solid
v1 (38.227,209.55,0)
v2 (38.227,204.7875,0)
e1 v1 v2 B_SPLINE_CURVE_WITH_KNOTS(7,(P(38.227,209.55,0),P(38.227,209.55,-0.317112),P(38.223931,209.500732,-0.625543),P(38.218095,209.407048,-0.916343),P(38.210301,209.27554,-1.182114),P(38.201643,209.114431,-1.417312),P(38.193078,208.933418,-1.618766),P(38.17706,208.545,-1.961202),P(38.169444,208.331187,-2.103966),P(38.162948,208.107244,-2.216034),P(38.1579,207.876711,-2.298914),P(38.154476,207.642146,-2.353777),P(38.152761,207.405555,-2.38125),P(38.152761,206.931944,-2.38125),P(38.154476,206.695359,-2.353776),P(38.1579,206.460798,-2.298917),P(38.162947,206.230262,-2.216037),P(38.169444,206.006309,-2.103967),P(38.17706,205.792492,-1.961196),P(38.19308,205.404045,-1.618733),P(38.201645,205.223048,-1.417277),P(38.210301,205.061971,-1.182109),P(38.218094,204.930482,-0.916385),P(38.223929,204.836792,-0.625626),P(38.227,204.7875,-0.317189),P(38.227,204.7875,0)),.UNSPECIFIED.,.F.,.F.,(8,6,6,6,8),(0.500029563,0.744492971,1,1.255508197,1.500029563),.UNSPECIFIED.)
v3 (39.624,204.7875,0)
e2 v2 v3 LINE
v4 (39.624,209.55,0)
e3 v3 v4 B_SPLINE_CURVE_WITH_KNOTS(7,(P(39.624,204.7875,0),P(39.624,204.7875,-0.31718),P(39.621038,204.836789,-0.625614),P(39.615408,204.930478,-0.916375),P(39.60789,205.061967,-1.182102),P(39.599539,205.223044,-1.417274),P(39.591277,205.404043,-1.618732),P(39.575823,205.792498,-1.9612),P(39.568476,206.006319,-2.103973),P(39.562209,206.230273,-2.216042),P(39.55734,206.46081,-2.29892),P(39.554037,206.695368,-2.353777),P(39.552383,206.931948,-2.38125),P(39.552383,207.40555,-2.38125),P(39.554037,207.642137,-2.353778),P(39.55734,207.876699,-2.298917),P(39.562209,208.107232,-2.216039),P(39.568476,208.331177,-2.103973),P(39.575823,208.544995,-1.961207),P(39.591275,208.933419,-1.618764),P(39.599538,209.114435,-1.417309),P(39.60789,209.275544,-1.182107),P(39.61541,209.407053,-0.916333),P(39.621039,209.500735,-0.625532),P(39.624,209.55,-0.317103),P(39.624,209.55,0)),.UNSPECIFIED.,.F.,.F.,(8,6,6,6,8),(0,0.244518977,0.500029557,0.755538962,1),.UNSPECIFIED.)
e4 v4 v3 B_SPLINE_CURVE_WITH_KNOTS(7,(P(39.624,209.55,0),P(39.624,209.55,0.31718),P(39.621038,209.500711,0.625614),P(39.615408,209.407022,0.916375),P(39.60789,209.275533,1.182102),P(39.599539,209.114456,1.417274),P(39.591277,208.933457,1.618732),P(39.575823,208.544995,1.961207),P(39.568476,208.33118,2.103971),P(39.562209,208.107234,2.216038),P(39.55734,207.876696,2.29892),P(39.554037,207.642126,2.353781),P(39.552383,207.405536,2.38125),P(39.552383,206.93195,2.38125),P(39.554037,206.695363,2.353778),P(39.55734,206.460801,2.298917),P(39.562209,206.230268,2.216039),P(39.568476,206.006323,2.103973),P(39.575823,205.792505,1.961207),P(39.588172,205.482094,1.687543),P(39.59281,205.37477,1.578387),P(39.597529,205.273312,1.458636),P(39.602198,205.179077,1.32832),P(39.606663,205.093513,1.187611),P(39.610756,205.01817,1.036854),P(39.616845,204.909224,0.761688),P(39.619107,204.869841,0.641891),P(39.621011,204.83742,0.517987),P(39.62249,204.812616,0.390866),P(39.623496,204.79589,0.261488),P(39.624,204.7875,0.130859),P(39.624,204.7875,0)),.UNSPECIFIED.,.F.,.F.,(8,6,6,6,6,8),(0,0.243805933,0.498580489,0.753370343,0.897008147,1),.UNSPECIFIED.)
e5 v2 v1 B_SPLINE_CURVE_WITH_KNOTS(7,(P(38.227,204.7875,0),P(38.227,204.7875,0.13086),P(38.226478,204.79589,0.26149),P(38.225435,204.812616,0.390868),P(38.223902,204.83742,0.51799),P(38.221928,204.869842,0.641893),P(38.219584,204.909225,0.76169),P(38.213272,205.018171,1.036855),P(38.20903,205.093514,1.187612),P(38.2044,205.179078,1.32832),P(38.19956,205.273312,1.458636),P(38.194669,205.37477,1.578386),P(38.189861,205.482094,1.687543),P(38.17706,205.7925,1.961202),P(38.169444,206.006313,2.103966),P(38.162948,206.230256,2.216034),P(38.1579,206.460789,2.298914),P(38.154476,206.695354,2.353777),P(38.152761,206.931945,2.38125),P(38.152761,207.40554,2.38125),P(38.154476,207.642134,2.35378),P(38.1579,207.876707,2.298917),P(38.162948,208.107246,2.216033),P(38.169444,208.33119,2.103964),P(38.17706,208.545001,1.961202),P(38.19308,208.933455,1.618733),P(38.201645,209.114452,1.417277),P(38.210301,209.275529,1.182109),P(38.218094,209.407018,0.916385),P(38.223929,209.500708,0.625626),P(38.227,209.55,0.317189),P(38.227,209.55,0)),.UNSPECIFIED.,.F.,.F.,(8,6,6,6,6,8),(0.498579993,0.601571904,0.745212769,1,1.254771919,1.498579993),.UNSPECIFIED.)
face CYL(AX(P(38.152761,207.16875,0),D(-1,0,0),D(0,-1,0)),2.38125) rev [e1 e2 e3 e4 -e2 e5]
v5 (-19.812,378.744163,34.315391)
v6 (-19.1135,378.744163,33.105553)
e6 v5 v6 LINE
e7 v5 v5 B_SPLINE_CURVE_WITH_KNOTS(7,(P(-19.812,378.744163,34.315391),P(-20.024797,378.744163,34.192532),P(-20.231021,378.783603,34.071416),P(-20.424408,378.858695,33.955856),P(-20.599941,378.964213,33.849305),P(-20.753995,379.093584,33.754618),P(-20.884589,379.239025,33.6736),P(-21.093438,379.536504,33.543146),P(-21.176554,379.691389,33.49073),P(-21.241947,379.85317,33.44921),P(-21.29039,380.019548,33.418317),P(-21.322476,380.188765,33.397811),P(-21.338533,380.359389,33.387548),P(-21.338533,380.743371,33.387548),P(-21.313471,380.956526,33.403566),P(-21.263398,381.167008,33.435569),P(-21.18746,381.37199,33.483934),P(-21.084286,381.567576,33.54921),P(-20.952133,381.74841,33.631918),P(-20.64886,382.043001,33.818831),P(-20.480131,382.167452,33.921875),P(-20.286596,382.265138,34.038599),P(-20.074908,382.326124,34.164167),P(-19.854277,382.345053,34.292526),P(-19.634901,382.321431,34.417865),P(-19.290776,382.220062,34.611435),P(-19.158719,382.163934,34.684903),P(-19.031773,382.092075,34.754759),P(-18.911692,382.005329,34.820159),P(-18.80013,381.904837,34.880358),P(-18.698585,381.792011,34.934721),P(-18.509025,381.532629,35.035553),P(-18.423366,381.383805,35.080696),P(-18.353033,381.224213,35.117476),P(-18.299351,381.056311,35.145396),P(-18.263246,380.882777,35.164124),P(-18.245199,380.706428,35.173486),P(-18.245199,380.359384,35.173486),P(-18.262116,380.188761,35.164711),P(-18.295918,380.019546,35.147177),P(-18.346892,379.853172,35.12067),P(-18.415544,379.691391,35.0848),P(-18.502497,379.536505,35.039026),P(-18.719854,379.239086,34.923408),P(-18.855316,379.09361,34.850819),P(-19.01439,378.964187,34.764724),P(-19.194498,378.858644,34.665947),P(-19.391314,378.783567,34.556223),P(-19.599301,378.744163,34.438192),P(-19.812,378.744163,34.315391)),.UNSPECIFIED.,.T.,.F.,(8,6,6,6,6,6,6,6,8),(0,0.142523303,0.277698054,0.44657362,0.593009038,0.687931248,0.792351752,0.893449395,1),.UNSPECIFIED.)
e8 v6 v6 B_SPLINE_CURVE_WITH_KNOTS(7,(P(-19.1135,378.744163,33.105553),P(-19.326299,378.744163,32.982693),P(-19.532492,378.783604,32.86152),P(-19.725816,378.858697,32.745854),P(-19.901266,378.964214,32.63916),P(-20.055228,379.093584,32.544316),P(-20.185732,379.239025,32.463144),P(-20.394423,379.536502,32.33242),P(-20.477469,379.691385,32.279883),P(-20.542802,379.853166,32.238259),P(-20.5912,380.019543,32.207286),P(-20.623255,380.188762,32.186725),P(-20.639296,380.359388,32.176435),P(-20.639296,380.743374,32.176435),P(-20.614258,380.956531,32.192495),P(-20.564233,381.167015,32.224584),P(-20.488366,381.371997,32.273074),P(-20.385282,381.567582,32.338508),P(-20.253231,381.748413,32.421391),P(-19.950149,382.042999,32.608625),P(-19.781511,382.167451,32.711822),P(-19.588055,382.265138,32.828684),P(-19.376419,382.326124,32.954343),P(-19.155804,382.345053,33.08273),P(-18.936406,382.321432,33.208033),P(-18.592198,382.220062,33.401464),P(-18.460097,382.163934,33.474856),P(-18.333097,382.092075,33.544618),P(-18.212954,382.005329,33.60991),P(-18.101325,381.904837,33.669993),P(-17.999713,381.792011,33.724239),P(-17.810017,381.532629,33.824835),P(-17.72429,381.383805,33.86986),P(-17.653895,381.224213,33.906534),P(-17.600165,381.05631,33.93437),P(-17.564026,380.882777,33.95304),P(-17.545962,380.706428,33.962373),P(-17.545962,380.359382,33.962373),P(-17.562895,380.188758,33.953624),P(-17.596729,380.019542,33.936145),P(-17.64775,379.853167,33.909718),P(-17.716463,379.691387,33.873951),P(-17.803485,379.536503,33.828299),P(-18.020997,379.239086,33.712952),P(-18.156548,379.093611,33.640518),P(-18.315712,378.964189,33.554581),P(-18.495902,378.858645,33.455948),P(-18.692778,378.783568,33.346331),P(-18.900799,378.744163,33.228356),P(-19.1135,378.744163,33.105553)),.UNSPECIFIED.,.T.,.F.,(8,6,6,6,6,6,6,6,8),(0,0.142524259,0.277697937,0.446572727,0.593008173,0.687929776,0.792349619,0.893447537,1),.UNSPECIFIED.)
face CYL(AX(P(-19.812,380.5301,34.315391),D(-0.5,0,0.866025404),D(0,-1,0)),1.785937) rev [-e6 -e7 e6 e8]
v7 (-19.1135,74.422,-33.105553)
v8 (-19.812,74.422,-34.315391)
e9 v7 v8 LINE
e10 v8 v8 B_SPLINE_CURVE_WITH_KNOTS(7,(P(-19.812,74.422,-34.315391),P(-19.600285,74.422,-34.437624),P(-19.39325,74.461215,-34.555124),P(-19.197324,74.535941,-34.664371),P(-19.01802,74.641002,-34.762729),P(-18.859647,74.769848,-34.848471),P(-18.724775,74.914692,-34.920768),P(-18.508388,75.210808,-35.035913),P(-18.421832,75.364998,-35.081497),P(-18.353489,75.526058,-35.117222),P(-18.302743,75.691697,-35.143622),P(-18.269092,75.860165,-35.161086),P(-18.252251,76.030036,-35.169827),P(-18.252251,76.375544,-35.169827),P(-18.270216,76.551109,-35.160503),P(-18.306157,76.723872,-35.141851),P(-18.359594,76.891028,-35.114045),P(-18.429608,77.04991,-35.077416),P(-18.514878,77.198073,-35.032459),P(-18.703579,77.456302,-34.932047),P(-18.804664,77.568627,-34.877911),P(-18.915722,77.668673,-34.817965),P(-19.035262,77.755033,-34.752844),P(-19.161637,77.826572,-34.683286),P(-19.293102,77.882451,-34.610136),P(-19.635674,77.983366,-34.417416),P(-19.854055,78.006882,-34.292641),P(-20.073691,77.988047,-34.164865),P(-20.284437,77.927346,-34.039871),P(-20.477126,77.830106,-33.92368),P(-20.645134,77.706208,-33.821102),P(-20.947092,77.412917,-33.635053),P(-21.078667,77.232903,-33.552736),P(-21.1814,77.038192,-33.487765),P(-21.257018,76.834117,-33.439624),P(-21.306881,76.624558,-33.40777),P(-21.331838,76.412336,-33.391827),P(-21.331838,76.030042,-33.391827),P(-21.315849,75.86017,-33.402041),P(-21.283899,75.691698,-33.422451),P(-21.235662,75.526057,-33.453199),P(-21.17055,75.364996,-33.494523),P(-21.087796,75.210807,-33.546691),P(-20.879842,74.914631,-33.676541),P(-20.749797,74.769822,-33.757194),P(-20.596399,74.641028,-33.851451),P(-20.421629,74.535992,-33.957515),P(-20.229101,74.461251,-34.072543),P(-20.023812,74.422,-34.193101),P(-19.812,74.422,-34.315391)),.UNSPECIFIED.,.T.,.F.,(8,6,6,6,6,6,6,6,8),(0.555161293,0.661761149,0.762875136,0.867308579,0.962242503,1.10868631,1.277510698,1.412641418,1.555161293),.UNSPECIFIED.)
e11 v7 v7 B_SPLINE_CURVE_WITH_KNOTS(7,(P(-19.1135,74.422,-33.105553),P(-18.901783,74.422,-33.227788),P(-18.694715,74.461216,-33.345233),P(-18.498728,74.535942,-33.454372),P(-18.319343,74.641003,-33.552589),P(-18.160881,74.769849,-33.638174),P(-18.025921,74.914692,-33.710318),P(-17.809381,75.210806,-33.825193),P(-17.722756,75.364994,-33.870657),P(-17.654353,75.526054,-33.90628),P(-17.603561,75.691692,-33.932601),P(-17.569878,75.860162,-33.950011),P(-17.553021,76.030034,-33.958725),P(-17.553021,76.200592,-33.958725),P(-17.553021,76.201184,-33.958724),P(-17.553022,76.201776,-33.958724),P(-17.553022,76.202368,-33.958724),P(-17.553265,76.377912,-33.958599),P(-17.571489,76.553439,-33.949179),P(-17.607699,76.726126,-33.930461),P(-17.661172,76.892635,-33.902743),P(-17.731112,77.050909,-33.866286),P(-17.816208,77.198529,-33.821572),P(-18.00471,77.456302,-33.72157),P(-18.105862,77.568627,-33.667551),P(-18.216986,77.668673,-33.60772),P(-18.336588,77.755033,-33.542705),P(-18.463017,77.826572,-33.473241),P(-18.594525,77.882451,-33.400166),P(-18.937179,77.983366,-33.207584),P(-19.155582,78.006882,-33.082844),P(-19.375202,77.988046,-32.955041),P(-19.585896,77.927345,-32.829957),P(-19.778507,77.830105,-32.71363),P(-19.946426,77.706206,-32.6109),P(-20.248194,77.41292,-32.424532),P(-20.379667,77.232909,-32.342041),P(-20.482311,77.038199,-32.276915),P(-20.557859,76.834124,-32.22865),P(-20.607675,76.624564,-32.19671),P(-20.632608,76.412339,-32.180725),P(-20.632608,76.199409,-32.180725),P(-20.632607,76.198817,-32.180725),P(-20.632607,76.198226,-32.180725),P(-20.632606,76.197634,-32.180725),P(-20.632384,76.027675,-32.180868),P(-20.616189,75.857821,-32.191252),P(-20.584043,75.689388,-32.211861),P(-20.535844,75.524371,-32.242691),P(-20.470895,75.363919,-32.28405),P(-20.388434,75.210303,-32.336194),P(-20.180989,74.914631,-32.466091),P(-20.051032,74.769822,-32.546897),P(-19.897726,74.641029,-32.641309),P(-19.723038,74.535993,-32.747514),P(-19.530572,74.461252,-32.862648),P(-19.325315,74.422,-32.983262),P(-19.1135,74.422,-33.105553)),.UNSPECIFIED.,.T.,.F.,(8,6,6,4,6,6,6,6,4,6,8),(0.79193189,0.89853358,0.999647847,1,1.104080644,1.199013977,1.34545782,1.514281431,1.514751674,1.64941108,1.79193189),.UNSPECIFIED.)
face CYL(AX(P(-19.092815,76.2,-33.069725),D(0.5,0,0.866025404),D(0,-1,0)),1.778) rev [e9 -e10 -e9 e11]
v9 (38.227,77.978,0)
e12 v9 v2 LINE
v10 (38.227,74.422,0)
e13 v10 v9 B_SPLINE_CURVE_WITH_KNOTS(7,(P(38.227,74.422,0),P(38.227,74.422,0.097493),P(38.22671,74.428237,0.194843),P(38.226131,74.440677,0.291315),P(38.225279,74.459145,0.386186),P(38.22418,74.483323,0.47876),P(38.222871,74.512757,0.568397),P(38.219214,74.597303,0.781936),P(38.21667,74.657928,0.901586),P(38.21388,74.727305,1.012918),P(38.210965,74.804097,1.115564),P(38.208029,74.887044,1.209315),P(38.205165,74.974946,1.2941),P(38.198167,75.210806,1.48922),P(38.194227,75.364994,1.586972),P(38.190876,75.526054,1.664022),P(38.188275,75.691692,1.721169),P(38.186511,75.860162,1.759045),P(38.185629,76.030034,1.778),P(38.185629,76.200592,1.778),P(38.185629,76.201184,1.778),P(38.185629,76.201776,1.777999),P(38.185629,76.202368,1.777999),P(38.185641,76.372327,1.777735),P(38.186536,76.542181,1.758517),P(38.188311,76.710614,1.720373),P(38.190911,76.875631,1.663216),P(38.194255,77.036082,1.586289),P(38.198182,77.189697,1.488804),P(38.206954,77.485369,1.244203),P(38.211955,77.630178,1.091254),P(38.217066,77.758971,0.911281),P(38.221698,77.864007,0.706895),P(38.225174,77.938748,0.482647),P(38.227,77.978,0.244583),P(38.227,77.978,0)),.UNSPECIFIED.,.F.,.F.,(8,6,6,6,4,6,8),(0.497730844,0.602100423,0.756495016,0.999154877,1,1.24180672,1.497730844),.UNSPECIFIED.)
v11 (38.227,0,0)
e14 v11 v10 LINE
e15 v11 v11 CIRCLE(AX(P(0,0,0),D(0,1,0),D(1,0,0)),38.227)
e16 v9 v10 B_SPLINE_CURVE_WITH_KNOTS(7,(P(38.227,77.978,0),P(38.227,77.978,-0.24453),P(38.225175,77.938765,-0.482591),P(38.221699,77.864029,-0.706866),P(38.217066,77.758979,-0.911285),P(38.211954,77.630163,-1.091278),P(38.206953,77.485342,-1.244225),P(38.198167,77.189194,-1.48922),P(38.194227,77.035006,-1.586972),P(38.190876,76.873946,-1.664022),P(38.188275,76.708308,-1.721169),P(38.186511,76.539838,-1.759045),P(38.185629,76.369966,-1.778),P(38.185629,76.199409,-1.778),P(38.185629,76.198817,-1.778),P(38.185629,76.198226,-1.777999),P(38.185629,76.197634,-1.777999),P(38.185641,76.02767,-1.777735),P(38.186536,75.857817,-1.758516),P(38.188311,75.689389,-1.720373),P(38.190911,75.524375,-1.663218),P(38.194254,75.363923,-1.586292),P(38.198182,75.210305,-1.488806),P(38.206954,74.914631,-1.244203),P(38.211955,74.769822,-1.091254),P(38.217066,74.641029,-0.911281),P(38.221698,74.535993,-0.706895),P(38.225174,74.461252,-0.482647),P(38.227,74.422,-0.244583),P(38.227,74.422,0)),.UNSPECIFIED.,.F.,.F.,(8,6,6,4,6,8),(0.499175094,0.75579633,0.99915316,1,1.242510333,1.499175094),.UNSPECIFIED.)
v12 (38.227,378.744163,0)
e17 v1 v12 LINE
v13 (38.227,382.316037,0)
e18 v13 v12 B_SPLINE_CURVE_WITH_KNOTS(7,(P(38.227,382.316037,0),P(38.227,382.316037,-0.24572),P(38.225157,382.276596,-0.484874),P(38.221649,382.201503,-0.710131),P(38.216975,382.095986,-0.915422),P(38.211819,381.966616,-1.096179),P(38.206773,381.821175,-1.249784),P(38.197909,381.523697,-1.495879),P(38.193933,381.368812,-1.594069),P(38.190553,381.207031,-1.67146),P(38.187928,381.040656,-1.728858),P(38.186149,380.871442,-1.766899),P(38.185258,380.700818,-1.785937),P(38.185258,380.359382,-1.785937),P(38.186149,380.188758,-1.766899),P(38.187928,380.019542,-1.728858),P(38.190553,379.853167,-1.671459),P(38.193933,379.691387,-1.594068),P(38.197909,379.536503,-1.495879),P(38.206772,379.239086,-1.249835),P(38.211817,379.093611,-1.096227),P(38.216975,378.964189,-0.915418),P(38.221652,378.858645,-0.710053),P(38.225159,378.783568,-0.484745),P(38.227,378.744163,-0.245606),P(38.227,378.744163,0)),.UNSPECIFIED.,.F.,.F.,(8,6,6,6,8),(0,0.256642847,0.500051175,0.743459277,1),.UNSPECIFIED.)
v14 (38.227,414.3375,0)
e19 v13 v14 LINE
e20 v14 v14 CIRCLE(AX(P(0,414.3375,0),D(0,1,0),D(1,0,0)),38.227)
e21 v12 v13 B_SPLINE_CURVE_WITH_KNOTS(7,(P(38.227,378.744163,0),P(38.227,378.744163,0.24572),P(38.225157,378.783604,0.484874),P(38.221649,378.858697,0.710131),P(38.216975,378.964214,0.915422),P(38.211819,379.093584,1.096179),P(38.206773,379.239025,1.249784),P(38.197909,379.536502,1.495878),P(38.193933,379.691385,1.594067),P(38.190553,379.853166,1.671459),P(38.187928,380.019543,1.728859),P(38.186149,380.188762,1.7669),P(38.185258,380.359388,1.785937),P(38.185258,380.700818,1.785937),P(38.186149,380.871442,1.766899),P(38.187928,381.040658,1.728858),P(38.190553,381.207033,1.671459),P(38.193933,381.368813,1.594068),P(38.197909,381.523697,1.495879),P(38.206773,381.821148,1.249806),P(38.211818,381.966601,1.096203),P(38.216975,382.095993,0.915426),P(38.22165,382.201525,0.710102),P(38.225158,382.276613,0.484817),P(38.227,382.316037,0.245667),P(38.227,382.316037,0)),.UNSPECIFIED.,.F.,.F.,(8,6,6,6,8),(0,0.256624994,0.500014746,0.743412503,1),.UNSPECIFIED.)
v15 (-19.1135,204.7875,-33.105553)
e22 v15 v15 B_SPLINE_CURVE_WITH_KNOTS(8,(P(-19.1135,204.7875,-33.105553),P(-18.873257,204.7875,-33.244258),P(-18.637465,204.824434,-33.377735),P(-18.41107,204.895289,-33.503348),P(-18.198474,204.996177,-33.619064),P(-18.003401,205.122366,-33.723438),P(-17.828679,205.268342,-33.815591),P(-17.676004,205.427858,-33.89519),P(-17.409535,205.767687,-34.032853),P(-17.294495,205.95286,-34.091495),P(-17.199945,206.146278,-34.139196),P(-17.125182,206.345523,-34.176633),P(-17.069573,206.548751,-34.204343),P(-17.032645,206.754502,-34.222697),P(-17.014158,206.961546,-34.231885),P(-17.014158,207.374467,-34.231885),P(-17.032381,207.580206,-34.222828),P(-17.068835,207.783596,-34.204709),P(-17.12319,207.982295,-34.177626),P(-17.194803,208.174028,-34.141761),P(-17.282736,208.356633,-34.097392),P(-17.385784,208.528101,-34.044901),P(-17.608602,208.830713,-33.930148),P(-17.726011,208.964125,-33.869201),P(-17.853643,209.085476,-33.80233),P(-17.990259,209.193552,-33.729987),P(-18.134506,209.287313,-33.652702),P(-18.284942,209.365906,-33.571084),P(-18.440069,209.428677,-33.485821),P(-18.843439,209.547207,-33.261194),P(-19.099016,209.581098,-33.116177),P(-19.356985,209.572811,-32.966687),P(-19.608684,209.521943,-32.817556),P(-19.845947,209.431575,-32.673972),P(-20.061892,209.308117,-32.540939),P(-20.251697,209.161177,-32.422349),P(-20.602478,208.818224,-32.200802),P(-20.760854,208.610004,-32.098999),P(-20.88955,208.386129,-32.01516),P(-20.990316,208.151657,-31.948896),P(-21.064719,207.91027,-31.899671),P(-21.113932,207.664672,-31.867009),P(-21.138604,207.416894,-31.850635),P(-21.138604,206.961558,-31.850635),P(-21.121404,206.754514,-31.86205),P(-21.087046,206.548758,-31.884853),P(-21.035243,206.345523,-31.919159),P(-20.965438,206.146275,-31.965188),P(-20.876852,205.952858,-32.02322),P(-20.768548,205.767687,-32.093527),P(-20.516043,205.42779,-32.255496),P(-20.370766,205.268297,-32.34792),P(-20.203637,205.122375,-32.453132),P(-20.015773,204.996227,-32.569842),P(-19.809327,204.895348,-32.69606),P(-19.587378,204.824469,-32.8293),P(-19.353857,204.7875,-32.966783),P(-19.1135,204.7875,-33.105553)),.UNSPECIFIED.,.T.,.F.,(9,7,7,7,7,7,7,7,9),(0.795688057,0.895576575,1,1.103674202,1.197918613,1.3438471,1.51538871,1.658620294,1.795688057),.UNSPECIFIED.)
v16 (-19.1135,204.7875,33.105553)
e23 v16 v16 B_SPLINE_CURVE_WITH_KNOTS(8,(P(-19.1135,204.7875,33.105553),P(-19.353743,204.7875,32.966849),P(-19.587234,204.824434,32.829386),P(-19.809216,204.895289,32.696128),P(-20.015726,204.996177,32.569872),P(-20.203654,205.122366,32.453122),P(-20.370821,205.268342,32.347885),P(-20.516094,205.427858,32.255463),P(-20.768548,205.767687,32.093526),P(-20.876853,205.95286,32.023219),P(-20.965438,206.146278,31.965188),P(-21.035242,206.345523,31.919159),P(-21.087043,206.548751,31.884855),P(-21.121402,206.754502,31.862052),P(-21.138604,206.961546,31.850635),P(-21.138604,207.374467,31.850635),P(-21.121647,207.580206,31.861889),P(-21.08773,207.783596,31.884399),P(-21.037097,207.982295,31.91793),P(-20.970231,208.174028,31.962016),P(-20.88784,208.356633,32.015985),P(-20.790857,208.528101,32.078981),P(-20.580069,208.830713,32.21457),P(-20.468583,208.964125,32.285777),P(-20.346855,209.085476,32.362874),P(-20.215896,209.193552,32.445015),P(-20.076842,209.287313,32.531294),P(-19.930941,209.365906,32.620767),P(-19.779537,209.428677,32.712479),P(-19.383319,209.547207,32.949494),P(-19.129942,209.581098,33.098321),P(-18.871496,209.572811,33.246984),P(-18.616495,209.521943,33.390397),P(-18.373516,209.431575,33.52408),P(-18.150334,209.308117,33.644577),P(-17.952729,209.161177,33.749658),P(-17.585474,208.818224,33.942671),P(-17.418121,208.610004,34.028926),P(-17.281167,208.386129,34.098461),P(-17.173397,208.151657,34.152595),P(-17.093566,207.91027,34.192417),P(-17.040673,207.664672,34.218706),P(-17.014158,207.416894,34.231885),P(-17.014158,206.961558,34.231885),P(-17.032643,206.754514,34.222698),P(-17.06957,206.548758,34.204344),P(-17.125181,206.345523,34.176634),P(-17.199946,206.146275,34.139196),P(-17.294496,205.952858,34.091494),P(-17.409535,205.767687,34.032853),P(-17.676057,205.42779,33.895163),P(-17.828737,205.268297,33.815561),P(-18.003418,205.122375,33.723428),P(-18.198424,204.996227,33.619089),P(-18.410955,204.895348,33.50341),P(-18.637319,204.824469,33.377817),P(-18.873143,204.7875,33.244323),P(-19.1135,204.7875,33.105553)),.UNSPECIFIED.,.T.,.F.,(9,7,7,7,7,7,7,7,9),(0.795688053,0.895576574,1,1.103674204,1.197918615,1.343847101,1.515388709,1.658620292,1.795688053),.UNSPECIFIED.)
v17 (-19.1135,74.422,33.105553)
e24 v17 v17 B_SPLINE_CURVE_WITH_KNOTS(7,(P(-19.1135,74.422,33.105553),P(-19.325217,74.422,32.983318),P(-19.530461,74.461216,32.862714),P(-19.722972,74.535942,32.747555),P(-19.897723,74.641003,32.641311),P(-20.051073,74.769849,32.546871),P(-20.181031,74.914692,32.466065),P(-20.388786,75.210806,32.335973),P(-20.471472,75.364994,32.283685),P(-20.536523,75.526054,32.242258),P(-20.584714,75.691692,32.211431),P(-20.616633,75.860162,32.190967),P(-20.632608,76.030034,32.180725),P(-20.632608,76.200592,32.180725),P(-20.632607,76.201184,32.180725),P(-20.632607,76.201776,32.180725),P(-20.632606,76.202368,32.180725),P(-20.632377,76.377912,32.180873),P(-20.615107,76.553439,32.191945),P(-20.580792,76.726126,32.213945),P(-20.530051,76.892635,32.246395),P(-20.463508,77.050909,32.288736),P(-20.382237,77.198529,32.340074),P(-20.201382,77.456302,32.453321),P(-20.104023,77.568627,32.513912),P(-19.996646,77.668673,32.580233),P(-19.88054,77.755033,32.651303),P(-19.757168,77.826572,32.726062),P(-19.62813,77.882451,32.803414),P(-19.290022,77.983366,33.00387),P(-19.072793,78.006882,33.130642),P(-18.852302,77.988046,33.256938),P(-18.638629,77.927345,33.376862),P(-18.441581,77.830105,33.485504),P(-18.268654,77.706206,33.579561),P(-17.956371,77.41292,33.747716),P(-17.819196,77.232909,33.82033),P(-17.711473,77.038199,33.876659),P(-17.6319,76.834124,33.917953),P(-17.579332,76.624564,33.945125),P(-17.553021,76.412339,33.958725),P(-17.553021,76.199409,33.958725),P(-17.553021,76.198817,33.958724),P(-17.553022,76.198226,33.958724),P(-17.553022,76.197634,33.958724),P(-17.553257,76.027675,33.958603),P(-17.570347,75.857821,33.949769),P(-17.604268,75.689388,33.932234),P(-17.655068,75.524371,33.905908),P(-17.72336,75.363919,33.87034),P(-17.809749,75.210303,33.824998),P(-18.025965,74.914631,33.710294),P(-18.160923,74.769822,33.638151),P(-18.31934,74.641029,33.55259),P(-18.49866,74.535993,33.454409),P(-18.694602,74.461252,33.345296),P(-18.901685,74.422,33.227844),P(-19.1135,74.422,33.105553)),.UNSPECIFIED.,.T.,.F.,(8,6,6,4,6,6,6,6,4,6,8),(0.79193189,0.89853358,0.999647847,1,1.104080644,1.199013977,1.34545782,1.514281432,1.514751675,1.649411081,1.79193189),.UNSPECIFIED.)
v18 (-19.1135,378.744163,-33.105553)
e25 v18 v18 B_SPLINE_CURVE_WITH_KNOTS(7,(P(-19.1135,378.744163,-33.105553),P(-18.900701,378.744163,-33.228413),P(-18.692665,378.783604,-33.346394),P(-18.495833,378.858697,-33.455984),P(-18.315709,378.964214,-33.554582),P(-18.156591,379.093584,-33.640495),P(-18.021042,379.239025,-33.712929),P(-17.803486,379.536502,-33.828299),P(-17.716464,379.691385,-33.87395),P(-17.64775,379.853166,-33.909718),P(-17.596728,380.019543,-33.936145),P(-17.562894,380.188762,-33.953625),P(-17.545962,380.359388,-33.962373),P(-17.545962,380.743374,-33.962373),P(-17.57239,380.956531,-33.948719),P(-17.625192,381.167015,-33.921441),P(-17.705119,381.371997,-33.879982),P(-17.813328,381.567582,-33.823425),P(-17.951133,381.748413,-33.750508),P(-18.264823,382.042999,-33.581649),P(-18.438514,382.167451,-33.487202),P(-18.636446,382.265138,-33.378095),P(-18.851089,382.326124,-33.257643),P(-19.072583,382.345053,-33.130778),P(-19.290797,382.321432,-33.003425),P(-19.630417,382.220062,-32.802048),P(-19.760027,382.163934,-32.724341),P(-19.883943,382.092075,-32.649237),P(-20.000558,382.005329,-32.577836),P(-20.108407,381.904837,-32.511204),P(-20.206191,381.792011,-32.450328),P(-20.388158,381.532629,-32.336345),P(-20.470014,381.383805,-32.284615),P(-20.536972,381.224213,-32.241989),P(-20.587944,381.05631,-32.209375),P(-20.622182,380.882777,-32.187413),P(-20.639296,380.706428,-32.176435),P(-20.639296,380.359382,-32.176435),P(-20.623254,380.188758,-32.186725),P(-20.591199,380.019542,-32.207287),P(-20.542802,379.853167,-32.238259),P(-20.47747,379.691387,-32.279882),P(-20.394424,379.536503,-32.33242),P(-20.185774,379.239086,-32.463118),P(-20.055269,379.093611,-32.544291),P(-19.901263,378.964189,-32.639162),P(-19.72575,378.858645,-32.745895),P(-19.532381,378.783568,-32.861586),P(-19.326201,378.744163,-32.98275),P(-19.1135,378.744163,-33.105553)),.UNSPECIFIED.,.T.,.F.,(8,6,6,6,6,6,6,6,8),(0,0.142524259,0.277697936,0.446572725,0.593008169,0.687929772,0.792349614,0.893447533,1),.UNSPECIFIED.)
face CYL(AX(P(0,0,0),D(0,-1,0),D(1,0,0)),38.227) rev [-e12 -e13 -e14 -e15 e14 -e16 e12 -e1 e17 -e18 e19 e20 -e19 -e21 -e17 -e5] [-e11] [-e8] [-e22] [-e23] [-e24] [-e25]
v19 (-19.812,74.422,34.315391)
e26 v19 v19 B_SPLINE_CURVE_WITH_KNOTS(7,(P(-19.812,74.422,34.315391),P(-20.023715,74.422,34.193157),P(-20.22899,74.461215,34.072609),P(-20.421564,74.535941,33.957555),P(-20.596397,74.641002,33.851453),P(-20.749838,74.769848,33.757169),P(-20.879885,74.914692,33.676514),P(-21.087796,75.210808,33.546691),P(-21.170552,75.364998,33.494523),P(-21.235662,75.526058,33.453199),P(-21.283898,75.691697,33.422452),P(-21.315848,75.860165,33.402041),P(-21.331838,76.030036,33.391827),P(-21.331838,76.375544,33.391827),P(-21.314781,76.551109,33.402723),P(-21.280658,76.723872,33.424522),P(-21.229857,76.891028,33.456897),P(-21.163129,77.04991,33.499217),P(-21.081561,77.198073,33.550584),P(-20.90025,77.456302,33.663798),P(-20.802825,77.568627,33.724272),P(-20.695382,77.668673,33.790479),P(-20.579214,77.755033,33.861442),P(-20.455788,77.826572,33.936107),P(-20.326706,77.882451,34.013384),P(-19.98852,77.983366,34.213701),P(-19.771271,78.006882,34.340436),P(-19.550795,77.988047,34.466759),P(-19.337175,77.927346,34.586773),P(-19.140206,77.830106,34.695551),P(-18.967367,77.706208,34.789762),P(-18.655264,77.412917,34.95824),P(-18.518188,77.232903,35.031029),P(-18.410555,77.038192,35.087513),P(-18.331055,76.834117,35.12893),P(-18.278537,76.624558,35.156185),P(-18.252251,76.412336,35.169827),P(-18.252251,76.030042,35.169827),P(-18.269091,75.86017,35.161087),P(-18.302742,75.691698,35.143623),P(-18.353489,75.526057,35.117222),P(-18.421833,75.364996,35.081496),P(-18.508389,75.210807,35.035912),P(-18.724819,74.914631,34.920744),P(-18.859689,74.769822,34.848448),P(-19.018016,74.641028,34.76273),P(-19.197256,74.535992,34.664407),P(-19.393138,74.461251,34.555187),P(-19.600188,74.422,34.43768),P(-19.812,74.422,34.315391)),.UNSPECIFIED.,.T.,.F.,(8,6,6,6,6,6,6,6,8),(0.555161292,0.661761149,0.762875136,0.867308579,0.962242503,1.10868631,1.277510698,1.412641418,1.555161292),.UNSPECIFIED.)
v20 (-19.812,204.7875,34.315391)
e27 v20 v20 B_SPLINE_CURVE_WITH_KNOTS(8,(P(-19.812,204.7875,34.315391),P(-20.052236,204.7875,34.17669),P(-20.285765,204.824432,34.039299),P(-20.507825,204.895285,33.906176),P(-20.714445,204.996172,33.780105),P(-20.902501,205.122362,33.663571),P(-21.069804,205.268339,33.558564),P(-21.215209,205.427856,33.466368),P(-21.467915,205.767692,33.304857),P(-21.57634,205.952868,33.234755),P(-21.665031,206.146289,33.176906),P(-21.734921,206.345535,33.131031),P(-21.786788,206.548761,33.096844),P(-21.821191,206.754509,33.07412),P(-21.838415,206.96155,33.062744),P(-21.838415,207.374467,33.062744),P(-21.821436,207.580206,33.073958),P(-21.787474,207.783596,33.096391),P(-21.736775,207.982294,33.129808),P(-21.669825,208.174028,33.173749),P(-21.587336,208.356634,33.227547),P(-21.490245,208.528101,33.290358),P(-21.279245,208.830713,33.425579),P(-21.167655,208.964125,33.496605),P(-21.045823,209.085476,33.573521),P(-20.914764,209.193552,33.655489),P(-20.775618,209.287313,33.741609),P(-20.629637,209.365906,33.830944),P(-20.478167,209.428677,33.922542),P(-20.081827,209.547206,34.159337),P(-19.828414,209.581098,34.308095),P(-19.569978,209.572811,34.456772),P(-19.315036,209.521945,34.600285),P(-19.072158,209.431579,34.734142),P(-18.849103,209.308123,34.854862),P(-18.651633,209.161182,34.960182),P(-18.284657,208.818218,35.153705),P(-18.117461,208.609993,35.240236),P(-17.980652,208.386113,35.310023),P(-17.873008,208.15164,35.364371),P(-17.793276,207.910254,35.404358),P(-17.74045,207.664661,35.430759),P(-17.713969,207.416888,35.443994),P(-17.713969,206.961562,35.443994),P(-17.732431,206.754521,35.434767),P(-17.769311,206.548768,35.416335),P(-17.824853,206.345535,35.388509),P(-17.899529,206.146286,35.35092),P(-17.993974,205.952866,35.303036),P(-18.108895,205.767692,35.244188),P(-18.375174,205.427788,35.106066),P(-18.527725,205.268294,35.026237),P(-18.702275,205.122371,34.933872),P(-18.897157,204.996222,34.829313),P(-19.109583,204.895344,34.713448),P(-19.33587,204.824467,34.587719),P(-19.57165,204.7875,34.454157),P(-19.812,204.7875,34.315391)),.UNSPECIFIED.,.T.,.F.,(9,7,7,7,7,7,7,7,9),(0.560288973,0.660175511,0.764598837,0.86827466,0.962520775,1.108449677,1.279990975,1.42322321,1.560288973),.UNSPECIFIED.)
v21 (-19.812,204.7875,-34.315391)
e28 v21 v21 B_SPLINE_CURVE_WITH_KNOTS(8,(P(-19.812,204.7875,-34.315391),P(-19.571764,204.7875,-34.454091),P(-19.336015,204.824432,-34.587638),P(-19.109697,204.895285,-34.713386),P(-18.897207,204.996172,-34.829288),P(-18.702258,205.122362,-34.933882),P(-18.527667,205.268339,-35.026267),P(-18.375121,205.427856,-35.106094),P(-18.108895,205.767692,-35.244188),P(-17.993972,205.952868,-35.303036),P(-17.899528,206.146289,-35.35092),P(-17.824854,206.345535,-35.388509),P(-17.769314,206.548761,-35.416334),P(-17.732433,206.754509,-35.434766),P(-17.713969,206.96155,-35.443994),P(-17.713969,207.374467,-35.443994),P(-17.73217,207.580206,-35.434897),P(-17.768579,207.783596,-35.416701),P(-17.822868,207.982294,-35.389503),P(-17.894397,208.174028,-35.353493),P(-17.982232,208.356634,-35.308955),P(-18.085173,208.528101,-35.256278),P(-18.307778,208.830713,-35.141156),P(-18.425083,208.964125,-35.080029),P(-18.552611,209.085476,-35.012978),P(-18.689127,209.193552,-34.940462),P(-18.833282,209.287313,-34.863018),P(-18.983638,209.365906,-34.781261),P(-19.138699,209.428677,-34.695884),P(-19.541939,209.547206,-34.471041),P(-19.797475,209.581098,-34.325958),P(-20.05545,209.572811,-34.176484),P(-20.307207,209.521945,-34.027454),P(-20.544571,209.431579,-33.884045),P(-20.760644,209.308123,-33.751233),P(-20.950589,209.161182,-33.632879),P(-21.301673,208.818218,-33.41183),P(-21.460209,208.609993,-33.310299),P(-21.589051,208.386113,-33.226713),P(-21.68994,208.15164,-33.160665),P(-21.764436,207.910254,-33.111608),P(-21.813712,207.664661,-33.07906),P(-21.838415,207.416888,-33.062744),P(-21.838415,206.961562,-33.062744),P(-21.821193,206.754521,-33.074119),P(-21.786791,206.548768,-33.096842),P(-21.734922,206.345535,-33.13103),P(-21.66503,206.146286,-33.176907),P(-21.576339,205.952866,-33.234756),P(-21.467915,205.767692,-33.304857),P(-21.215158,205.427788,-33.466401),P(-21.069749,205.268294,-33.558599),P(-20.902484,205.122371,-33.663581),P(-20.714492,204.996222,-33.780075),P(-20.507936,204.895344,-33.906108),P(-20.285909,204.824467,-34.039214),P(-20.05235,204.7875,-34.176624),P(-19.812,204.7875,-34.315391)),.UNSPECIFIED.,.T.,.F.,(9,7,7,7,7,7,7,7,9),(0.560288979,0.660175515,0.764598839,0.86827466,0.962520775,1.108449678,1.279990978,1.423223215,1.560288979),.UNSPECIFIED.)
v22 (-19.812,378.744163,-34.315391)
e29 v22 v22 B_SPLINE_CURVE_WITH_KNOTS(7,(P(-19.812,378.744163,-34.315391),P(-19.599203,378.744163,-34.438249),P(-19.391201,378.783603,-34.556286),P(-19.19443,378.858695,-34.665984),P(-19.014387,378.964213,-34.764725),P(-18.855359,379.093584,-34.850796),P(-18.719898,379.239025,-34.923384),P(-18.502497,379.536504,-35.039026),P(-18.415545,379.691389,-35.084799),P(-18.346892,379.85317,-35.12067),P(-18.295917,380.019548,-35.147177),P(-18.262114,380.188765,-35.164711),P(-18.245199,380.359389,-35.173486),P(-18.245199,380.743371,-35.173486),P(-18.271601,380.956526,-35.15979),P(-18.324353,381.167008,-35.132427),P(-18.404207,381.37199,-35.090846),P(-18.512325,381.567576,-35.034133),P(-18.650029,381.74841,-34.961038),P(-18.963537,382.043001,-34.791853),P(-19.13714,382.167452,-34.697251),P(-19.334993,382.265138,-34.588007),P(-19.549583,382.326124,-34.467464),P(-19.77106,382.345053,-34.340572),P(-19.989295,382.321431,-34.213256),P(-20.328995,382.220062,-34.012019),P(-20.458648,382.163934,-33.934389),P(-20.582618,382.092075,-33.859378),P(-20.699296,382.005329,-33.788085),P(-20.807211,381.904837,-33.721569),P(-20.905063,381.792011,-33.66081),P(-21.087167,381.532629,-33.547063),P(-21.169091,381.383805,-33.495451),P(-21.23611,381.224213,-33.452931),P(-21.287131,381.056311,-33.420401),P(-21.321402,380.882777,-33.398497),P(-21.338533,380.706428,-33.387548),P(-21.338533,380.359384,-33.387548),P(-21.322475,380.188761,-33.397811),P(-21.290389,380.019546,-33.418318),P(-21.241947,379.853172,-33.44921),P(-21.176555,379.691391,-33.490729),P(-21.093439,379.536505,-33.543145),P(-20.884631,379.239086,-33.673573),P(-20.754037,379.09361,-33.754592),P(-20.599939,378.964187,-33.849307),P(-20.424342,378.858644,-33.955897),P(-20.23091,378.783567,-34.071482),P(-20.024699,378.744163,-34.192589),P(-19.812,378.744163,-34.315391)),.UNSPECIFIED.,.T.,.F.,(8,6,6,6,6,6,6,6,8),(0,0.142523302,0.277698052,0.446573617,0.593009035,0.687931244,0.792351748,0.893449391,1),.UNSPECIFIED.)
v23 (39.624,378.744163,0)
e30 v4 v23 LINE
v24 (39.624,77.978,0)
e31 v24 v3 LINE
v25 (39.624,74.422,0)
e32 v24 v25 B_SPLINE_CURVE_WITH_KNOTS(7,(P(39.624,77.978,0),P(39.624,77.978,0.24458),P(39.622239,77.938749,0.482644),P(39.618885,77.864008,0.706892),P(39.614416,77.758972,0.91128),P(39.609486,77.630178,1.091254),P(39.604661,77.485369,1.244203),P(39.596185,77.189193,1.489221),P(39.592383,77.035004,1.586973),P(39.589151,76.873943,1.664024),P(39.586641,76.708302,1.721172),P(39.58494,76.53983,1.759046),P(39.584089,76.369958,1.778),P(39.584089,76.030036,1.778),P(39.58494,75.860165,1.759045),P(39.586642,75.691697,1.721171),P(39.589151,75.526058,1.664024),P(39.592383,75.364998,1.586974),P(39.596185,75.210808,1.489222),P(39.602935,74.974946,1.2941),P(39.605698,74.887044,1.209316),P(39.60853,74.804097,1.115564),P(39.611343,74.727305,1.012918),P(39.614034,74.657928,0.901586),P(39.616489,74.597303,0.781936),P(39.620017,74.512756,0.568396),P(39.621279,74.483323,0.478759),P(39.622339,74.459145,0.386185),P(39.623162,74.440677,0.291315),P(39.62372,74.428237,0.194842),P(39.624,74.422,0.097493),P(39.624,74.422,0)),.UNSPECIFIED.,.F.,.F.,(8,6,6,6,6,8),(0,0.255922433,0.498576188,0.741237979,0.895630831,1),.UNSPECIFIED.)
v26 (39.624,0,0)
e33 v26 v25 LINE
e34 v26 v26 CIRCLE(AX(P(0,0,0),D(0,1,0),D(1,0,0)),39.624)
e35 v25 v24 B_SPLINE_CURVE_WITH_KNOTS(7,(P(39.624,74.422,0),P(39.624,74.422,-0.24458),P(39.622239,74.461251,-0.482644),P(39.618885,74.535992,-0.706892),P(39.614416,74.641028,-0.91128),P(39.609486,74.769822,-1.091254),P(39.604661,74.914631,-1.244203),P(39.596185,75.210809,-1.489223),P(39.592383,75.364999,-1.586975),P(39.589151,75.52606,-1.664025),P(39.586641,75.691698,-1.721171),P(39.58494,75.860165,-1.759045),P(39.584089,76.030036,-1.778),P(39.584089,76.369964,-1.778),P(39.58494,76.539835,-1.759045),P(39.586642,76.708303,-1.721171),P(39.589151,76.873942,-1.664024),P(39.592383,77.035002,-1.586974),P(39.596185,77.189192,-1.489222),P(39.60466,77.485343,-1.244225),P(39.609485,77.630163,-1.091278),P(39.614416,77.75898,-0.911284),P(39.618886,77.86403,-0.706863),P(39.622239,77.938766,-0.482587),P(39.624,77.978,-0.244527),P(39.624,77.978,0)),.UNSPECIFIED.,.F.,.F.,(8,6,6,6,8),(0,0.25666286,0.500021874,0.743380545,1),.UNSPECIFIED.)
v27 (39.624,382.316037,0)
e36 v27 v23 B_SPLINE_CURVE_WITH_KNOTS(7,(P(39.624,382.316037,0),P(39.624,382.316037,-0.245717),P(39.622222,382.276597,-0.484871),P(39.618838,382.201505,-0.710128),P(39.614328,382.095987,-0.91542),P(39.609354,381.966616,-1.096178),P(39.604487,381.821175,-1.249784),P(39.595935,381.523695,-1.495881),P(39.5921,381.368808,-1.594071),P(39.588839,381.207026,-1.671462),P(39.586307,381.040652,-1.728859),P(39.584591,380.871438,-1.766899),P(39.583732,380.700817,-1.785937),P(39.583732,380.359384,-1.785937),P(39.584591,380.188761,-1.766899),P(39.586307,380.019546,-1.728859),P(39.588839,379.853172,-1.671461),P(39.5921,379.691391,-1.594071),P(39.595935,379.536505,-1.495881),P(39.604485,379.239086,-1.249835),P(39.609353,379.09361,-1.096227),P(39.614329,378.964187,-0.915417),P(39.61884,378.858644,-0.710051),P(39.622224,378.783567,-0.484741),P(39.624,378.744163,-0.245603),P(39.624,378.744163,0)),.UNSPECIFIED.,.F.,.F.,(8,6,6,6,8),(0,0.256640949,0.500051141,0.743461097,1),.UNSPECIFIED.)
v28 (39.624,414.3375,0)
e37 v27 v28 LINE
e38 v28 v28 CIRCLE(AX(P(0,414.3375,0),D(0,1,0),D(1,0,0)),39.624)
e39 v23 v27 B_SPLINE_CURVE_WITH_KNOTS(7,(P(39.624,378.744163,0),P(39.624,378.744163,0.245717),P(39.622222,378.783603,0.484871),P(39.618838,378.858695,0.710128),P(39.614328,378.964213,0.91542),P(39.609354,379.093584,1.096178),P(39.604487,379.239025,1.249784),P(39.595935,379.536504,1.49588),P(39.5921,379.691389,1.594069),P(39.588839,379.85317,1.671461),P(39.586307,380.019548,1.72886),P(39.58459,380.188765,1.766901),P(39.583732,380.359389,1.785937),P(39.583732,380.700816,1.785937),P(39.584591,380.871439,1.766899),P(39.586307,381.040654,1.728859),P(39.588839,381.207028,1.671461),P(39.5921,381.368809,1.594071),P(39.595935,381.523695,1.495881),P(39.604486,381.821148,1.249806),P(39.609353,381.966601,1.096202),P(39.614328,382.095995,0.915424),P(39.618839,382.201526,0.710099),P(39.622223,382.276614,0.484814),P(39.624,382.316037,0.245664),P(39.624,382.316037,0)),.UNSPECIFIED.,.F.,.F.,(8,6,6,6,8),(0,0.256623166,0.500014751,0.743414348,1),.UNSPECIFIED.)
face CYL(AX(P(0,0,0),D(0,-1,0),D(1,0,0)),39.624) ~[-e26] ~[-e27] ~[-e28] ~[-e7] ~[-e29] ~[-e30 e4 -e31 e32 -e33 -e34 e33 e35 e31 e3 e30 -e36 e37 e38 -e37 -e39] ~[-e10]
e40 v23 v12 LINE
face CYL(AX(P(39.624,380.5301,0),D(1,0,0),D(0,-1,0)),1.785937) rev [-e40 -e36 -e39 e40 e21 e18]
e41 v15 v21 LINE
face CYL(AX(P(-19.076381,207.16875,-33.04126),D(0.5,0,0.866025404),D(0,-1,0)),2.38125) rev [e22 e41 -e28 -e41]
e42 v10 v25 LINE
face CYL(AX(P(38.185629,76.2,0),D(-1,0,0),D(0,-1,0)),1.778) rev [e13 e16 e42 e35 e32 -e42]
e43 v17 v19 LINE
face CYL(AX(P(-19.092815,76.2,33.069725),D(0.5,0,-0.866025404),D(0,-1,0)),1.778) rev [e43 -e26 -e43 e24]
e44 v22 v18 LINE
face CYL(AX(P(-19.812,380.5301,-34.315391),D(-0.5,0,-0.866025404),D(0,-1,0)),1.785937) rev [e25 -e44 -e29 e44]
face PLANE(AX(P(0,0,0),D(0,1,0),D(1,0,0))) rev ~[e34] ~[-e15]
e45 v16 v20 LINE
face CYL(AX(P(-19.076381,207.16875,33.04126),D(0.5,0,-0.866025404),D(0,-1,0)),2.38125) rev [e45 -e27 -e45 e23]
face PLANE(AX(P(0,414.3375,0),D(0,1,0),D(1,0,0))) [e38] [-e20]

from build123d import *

# Parameters (mm, degrees)
SKETCH1_R                        = 39.624
SKETCH1_R_2                      = 38.227
BOSS_EXTRUDE1_DEPTH              = 414.3375
CUT_EXTRUDE1_START               = -1.438371
SKETCH2_R                        = 1.778
CUT_EXTRUDE1_DEPTH               = 1.438371
CIRPATTERN1_COUNT                = 3
PRESSURE_START                   = -1.471239
SKETCH3_R                        = 2.38125
PRESSURE_EQUALIZATION_HOLE_DEPTH = 1.471239
CIRPATTERN2_COUNT                = 3
SKETCH4_R                        = 1.7859375
CUT_EXTRUDE3_DEPTH               = 1.438742
CIRPATTERN3_COUNT                = 3


with BuildPart() as part:
    # Sketch1 → Boss-Extrude1 (new body)
    with BuildSketch(Plane(origin=(0, 0, 0), x_dir=(1, 0, 0), z_dir=(0, 1, 0))):
        Circle(SKETCH1_R)
        Circle(SKETCH1_R_2, mode=Mode.SUBTRACT)
    extrude(amount=BOSS_EXTRUDE1_DEPTH)

    # Sketch2 → Cut-Extrude1 (cut)
    with BuildSketch(Plane(origin=(-19.812, 0, 34.3153906), x_dir=(0, -1, 0), z_dir=(-0.5, 0, 0.866025404)).offset(CUT_EXTRUDE1_START)):
        with Locations((-76.2, 0)):
            Circle(SKETCH2_R)
    cut_extrude1 = extrude(amount=CUT_EXTRUDE1_DEPTH, mode=Mode.SUBTRACT)

    # CirPattern1: Cut-Extrude1 ×3 about axis
    cirpattern1_axis = Axis((0, -7.62, 0), (0, 1, 0))
    for i in range(1, CIRPATTERN1_COUNT):
        add(cut_extrude1.rotate(cirpattern1_axis, i * 360 / CIRPATTERN1_COUNT), mode=Mode.SUBTRACT)

    # Sketch3 → Pressure Equalization Hole (cut)
    with BuildSketch(Plane(origin=(-19.812, 0, 34.3153906), x_dir=(0, -1, 0), z_dir=(-0.5, 0, 0.866025404)).offset(PRESSURE_START)):
        with Locations((-207.16875, 0)):
            Circle(SKETCH3_R)
    pressure_equalization_hole = extrude(amount=PRESSURE_EQUALIZATION_HOLE_DEPTH, mode=Mode.SUBTRACT)

    # CirPattern2: Pressure Equalization Hole ×3 about axis
    cirpattern2_axis = Axis((0, -7.62, 0), (0, 1, 0))
    for i in range(1, CIRPATTERN2_COUNT):
        add(pressure_equalization_hole.rotate(cirpattern2_axis, i * 360 / CIRPATTERN2_COUNT), mode=Mode.SUBTRACT)

    # Sketch4 → Cut-Extrude3 (cut)
    with BuildSketch(Plane(origin=(39.624, 0, 0), x_dir=(0, -1, 0), z_dir=(-1, 0, 0))):
        with Locations((-380.5301, 0)):
            Circle(SKETCH4_R)
    cut_extrude3 = extrude(amount=CUT_EXTRUDE3_DEPTH, mode=Mode.SUBTRACT)

    # CirPattern3: Cut-Extrude3 ×3 about axis
    cirpattern3_axis = Axis((0, -7.62, 0), (0, 1, 0))
    for i in range(1, CIRPATTERN3_COUNT):
        add(cut_extrude3.rotate(cirpattern3_axis, i * 360 / CIRPATTERN3_COUNT), mode=Mode.SUBTRACT)


solid = part.part
